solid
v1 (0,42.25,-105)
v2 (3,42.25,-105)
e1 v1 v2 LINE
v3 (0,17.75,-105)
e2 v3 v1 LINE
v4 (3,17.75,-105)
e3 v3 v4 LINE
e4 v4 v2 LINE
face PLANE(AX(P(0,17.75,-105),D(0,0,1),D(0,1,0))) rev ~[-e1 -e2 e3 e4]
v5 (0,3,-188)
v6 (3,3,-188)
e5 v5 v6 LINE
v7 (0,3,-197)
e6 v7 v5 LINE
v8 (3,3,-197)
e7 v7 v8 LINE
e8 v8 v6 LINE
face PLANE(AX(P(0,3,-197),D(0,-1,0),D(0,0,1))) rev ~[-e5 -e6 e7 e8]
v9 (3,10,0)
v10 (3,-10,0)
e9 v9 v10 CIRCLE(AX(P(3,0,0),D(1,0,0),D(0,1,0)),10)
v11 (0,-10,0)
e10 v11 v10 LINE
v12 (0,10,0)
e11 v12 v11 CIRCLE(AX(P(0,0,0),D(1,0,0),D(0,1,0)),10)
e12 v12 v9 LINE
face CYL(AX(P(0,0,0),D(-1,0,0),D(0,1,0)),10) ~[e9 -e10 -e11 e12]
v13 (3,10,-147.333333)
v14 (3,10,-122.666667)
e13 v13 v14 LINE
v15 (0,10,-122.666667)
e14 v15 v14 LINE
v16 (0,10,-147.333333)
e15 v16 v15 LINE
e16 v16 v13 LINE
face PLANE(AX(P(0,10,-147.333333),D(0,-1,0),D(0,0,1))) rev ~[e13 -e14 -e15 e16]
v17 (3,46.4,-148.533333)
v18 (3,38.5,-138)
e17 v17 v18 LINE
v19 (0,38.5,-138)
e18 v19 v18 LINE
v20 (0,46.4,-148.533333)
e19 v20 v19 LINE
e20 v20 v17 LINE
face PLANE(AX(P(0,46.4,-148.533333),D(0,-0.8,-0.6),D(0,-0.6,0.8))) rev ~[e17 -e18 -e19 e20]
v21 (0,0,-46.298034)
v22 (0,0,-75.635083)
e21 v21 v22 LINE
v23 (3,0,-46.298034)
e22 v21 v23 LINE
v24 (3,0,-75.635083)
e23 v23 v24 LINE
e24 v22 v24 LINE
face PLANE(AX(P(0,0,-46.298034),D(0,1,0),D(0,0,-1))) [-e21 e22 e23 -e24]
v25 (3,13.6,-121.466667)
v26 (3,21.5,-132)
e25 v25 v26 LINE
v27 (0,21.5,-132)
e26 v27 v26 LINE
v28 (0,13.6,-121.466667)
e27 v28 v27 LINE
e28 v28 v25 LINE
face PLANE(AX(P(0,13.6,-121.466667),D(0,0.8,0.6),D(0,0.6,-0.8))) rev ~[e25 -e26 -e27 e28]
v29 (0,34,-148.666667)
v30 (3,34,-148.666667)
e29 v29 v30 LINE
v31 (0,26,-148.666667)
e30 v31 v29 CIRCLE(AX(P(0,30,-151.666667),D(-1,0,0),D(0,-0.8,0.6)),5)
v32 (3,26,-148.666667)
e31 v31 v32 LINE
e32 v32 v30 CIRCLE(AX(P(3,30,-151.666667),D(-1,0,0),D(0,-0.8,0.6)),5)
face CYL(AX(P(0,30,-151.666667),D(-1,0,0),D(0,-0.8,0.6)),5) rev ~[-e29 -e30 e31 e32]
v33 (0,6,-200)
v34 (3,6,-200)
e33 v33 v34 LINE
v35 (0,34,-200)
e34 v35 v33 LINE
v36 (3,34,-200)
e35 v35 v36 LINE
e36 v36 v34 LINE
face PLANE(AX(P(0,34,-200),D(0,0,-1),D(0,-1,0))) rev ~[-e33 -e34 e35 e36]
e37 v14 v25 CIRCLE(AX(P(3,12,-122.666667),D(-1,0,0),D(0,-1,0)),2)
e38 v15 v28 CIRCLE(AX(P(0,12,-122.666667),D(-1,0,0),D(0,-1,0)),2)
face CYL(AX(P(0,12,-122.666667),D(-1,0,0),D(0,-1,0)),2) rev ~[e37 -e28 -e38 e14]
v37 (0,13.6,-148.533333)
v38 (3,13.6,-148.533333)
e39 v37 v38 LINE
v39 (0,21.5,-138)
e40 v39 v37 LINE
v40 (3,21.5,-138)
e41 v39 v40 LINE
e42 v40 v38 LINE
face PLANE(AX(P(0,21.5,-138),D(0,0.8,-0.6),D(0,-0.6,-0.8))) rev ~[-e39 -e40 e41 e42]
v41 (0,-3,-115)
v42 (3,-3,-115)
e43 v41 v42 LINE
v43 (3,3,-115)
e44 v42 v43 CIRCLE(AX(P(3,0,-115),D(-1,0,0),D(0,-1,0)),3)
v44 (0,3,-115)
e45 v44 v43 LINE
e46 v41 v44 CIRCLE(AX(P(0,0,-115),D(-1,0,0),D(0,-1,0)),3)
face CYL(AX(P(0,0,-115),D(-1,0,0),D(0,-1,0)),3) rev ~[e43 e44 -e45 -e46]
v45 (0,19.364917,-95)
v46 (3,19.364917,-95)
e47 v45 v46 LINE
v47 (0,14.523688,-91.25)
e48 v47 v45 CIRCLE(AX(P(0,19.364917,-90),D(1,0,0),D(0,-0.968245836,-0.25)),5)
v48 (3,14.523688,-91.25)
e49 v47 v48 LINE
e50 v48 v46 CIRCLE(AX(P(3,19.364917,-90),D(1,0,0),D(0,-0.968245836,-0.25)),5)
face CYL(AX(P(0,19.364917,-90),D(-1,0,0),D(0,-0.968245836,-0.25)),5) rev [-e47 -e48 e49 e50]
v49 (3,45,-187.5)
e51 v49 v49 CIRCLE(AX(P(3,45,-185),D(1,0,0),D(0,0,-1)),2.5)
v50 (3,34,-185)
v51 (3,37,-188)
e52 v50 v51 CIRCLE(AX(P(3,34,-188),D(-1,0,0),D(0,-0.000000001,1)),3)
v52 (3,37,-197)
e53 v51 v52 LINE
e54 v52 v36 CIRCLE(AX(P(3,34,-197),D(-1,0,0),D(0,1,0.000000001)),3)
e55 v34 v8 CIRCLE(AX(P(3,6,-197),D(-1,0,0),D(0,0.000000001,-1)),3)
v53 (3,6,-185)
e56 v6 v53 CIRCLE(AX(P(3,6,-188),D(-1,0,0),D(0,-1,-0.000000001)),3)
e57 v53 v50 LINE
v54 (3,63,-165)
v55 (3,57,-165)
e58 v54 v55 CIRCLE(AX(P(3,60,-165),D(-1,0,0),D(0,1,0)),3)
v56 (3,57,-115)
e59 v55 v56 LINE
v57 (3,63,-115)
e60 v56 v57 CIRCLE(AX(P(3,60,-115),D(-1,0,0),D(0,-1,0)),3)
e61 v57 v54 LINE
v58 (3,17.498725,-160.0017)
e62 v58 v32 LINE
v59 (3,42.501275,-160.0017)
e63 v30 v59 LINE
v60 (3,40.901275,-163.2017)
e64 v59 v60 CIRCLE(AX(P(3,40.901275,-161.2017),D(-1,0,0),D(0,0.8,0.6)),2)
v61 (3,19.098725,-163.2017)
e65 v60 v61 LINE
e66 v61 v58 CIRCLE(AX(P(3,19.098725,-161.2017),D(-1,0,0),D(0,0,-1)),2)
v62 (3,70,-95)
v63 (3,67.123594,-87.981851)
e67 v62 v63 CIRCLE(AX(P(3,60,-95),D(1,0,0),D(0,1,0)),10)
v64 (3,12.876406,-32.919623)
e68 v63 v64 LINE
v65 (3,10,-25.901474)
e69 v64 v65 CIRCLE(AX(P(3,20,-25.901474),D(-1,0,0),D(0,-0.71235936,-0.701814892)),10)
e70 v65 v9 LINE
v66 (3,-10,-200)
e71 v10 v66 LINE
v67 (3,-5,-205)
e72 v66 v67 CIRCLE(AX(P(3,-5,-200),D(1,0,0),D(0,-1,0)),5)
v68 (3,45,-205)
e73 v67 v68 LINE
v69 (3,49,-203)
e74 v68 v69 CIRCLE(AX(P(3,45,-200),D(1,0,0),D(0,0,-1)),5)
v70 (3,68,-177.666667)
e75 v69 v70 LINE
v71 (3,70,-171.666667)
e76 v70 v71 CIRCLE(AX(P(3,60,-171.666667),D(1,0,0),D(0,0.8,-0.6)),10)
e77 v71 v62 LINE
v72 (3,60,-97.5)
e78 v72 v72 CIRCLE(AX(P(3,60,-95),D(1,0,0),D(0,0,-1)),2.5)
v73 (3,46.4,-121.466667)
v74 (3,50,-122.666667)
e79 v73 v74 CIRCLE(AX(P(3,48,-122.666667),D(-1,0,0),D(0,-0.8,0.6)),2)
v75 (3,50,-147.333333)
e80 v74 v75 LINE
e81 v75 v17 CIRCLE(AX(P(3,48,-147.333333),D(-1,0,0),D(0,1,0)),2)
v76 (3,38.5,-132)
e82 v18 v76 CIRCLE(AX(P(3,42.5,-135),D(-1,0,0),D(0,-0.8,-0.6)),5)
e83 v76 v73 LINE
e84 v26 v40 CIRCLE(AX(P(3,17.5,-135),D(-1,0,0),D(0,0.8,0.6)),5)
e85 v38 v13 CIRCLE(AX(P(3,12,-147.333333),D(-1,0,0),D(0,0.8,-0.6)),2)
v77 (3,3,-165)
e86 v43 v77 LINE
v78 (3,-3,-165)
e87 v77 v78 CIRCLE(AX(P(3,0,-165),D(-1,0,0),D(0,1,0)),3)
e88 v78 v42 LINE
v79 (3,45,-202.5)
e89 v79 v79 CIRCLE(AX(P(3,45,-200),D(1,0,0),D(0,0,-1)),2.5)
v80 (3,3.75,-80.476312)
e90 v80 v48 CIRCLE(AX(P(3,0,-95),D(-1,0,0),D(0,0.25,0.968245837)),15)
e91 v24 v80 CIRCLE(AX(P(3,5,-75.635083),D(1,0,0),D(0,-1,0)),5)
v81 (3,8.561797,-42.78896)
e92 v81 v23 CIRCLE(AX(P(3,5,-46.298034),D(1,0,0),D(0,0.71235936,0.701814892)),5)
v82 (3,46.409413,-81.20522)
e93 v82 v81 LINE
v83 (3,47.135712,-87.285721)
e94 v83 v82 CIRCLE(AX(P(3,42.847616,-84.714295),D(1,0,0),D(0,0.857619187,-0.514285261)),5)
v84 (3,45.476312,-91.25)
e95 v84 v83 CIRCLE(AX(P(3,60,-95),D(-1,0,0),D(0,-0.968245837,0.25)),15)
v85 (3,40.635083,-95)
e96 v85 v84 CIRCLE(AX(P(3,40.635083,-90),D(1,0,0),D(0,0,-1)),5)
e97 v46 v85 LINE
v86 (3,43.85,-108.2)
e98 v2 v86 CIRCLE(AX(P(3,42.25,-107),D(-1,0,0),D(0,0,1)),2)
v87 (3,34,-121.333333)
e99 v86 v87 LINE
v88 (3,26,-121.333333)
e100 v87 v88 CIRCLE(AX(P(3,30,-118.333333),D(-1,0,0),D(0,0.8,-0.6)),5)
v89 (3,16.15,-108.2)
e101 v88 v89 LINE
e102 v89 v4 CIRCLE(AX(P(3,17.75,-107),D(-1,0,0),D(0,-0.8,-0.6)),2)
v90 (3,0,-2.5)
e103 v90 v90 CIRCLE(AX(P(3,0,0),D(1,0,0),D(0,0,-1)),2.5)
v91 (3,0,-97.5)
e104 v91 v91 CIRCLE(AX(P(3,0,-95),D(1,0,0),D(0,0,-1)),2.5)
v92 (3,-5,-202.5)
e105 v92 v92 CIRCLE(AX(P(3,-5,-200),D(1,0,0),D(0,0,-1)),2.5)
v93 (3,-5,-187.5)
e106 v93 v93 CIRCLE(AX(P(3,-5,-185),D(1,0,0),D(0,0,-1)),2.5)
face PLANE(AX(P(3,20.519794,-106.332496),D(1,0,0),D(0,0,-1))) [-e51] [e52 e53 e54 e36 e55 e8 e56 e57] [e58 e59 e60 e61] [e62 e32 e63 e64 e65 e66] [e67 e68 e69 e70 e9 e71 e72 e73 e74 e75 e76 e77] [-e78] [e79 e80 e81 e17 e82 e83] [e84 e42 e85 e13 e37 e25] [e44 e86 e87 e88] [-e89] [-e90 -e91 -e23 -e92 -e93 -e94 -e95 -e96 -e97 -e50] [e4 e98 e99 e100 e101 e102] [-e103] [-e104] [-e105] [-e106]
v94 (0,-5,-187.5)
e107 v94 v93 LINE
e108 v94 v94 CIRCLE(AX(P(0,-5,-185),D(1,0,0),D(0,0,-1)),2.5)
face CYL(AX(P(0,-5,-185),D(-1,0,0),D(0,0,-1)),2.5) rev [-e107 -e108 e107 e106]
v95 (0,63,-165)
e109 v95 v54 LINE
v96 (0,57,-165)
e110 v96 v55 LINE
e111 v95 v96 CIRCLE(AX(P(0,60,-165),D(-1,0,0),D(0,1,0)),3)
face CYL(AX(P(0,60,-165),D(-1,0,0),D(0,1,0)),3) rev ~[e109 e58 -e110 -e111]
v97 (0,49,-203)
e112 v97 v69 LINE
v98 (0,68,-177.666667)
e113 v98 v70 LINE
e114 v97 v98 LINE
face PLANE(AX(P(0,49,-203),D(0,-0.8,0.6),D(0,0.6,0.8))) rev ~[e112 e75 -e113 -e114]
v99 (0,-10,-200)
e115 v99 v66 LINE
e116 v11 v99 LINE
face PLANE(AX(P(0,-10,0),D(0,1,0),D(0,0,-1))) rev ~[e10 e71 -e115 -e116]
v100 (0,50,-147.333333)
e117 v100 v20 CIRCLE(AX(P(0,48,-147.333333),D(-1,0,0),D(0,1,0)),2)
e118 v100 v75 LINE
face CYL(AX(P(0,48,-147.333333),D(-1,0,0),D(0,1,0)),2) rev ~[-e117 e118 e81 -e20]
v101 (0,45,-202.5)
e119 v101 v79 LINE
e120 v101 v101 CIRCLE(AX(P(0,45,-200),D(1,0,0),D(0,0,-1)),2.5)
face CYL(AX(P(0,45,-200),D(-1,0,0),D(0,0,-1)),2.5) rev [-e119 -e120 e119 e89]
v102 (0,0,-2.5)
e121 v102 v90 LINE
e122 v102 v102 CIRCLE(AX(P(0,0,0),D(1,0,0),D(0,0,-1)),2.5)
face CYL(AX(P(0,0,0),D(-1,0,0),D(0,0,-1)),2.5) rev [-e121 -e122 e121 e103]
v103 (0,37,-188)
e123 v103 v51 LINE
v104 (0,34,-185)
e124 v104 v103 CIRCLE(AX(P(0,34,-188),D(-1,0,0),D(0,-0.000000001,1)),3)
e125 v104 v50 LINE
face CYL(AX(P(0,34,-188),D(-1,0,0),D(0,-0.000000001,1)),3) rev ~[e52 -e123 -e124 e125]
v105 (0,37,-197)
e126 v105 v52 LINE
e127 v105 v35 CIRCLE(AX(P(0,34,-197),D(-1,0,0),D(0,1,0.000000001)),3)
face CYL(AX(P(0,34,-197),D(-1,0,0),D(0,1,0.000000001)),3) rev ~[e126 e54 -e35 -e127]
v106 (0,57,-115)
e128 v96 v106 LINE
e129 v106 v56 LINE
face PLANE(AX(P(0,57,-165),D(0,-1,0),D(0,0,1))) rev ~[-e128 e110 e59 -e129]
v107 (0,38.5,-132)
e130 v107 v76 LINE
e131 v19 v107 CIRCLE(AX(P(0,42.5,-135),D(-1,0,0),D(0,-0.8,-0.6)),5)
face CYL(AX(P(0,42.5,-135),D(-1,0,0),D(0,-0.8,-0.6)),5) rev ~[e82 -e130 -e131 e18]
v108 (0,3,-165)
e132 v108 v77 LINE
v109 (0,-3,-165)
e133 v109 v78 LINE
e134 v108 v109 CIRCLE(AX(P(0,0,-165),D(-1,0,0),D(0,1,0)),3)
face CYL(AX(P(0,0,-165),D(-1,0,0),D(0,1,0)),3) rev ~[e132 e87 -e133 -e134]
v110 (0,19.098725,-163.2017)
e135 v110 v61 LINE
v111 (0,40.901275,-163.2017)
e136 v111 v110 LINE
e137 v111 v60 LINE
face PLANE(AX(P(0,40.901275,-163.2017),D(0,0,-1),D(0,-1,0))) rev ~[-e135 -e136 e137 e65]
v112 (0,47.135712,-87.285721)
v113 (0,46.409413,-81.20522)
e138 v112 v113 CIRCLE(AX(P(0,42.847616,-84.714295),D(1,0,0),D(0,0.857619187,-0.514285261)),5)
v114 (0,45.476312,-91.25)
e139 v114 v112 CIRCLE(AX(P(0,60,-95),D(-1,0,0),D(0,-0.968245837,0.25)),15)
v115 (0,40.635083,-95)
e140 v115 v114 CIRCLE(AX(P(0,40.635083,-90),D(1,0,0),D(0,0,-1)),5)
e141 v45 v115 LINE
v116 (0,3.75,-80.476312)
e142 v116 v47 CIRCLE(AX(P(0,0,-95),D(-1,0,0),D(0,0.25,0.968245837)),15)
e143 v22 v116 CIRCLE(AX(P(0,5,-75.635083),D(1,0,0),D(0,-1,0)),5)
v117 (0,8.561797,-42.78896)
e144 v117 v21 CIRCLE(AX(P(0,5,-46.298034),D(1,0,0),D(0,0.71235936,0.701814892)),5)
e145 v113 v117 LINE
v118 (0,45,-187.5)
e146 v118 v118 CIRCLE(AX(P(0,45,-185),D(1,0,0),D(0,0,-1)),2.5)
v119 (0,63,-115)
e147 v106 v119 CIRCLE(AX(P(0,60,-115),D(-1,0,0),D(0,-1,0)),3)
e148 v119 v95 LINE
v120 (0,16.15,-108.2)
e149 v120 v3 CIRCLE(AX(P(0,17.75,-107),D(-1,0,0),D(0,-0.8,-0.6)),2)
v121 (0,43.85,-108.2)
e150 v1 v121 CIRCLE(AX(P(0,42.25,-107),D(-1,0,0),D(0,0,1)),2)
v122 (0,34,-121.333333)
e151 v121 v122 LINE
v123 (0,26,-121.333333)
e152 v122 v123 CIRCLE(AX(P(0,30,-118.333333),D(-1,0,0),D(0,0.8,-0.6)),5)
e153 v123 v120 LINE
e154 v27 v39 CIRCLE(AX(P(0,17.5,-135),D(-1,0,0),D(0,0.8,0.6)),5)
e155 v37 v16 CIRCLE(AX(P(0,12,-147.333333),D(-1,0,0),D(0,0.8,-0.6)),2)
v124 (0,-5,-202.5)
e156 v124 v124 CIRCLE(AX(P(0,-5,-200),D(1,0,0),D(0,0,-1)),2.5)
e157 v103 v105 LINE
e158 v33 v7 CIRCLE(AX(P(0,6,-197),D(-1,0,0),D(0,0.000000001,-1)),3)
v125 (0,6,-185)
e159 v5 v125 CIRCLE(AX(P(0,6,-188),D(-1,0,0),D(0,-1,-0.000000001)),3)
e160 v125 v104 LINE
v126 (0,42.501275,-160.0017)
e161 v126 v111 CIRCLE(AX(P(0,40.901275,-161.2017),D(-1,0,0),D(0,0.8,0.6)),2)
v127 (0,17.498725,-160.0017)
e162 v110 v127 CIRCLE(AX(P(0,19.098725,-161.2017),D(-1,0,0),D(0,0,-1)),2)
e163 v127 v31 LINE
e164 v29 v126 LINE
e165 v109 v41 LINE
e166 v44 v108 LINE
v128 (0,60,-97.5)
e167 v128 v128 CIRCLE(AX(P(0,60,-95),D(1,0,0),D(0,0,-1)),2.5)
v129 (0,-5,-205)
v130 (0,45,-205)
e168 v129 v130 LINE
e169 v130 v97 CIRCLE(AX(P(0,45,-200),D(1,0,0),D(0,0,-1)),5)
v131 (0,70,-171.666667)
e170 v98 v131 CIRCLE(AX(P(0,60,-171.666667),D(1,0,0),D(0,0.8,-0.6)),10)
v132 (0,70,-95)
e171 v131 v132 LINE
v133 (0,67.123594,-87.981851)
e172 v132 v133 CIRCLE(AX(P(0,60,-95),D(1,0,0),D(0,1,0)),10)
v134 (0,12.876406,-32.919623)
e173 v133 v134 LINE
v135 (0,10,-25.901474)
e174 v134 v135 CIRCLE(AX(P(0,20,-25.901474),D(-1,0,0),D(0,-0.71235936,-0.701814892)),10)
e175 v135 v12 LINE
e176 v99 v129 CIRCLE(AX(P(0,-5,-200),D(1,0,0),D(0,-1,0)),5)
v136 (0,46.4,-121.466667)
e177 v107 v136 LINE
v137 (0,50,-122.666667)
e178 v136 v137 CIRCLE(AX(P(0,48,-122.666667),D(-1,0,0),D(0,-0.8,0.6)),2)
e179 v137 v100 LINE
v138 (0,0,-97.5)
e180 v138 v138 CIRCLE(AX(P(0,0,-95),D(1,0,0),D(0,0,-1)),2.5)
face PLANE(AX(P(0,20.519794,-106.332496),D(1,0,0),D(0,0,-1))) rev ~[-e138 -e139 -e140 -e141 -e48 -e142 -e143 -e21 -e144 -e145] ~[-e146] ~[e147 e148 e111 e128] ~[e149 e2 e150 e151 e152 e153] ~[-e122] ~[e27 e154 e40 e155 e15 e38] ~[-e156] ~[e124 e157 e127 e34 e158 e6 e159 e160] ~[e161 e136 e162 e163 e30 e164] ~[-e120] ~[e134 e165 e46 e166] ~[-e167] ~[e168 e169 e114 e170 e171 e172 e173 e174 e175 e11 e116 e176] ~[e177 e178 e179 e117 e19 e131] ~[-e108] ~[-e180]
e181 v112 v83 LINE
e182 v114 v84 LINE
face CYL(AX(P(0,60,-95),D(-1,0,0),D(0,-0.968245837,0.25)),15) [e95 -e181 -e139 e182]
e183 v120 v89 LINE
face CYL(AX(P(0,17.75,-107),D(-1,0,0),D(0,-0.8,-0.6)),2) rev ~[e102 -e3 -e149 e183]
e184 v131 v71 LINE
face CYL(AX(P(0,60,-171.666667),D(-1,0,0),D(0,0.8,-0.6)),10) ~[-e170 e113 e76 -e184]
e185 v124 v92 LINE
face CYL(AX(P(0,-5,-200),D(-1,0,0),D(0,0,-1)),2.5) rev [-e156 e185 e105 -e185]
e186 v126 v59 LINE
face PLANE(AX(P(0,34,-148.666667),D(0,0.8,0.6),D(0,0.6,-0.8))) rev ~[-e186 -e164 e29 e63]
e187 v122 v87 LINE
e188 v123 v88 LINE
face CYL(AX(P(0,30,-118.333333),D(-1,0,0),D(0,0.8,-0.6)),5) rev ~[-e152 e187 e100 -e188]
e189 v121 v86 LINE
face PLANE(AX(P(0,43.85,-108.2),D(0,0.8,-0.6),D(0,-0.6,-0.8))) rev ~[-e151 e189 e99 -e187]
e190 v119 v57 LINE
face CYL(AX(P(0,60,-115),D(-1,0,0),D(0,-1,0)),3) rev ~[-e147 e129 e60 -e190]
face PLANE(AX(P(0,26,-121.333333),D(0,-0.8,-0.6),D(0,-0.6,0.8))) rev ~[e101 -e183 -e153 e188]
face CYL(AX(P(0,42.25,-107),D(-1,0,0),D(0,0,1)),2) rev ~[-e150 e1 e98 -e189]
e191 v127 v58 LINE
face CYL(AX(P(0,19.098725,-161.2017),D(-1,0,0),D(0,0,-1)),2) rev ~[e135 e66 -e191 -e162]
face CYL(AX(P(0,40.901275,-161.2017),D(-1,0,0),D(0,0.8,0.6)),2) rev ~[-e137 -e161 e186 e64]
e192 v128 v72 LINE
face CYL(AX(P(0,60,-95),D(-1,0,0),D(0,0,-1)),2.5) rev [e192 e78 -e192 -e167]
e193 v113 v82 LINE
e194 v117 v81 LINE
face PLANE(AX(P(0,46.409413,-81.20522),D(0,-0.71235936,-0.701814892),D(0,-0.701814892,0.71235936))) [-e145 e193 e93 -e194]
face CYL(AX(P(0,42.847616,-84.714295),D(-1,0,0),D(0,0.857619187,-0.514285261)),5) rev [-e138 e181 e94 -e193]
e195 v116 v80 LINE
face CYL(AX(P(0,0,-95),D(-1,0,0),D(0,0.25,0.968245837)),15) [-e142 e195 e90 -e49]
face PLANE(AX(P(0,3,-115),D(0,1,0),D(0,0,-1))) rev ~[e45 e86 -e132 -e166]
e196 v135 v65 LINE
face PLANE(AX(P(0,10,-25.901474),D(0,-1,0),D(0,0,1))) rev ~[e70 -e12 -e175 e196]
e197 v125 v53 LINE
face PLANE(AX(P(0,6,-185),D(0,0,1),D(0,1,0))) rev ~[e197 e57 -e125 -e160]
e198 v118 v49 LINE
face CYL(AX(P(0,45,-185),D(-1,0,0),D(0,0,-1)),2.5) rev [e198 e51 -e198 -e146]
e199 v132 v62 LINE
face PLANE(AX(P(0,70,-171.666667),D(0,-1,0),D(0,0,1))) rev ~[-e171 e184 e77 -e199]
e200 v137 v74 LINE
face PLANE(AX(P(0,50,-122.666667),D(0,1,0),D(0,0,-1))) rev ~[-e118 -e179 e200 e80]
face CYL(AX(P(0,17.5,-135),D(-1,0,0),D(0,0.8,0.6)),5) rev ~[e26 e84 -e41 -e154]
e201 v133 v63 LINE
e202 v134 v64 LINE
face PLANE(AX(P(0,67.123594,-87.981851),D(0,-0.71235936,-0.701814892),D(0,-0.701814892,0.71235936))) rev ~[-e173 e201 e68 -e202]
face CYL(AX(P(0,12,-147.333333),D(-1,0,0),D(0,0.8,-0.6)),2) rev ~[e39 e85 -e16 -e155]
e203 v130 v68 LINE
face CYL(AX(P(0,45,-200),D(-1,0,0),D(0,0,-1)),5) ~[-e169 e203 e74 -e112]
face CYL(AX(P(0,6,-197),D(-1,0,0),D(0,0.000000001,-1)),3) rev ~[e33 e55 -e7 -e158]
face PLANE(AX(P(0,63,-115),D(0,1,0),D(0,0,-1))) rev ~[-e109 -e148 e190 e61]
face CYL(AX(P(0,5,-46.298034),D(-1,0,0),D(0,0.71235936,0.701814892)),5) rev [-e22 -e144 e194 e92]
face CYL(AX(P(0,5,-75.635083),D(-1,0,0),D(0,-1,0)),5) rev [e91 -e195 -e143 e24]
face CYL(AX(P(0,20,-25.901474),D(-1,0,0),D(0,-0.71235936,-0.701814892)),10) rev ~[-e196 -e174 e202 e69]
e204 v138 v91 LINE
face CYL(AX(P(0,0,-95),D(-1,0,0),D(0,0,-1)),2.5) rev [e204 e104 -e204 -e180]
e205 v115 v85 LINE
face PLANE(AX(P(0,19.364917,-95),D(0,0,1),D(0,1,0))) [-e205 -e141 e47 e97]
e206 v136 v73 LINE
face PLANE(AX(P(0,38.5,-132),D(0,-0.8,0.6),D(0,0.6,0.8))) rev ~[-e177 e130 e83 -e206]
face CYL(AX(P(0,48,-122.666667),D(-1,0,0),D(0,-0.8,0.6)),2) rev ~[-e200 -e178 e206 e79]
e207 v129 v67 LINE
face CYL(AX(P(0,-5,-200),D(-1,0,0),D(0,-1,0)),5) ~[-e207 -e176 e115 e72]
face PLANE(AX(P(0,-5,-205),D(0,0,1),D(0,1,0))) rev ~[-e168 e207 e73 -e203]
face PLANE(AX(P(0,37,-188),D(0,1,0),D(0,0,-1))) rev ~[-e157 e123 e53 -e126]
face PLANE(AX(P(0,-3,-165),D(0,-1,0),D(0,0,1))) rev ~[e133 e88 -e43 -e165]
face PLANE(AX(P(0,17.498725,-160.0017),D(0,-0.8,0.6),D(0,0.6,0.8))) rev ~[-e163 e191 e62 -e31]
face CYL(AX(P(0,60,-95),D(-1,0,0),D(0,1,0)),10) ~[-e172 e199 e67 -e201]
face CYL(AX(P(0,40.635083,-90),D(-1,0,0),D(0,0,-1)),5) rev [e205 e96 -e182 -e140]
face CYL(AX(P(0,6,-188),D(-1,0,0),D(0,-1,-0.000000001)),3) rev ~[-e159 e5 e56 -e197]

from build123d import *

# Parameters (mm, degrees)
SKETCH_1_R      = 2.5
EXTRUDE_1_DEPTH = 3


with BuildPart() as part:
    # 草图1 → 凸台-拉伸1 (new body)
    with BuildSketch(Plane(origin=(0, 0, 0), x_dir=(0, 0, -1), z_dir=(1, 0, 0))):
        with BuildLine():
            Line((0, -10), (175, -10))
            Line((175, -10), (200, -10))
            ThreePointArc((200, -10), (203.535533906, -8.535533906), (205, -5))
            Line((205, -5), (205, 45))
            ThreePointArc((205, 45), (204.472135955, 47.236067977), (203, 49))
            Line((203, 49), (177.666666667, 68))
            ThreePointArc((177.666666667, 68), (174.828944327, 69.486832981), (171.666666667, 70))
            Line((171.666666667, 70), (95, 70))
            ThreePointArc((95, 70), (91.207635036, 69.252997784), (87.98185108, 67.123593597))
            Line((87.98185108, 67.123593597), (32.919623175, 12.876406403))
            ThreePointArc((32.919623175, 12.876406403), (29.693839218, 10.747002216), (25.901474255, 10))
            Line((25.901474255, 10), (0, 10))
            ThreePointArc((0, 10), (-10, 0), (0, -10))
        make_face()
        Circle(SKETCH_1_R, mode=Mode.SUBTRACT)
        with Locations((95, 0)):
            Circle(SKETCH_1_R, mode=Mode.SUBTRACT)
        with Locations((95, 60)):
            Circle(SKETCH_1_R, mode=Mode.SUBTRACT)
        with Locations((200, 45)):
            Circle(SKETCH_1_R, mode=Mode.SUBTRACT)
        with Locations((200, -5)):
            Circle(SKETCH_1_R, mode=Mode.SUBTRACT)
        with Locations((185, 45)):
            Circle(SKETCH_1_R, mode=Mode.SUBTRACT)
        with Locations((185, -5)):
            Circle(SKETCH_1_R, mode=Mode.SUBTRACT)
        with BuildLine():
            Line((46.298034327, 0), (75.635083269, 0))
            ThreePointArc((75.635083269, 0), (78.696945447, 1.047152925), (80.476312452, 3.75))
            ThreePointArc((80.476312452, 3.75), (84.393398282, 10.606601718), (91.25, 14.523687548))
            ThreePointArc((91.25, 14.523687548), (93.952847075, 16.303054553), (95, 19.364916731))
            Line((95, 19.364916731), (95, 40.635083269))
            ThreePointArc((95, 40.635083269), (93.952847075, 43.696945447), (91.25, 45.476312452))
            ThreePointArc((91.25, 45.476312452), (89.208124255, 46.163303308), (87.285721083, 47.135712192))
            ThreePointArc((87.285721083, 47.135712192), (84.121274015, 47.812324342), (81.205220318, 46.409413055))
            Line((81.205220318, 46.409413055), (42.788959867, 8.561796798))
            ThreePointArc((42.788959867, 8.561796798), (41.671535435, 3.103817518), (46.298034327, 0))
        make_face(mode=Mode.SUBTRACT)
        with BuildLine():
            Line((108.2, 43.85), (121.333333333, 34))
            ThreePointArc((121.333333333, 34), (123.333333333, 30), (121.333333333, 26))
            Line((121.333333333, 26), (108.2, 16.15))
            ThreePointArc((108.2, 16.15), (106.105572809, 15.961145618), (105, 17.75))
            Line((105, 17.75), (105, 42.25))
            ThreePointArc((105, 42.25), (106.105572809, 44.038854382), (108.2, 43.85))
        make_face(mode=Mode.SUBTRACT)
        with BuildLine():
            Line((122.666666667, 50), (147.333333333, 50))
            ThreePointArc((147.333333333, 50), (149.230699929, 48.632455532), (148.533333333, 46.4))
            Line((148.533333333, 46.4), (138, 38.5))
            ThreePointArc((138, 38.5), (135, 37.5), (132, 38.5))
            Line((132, 38.5), (121.466666667, 46.4))
            ThreePointArc((121.466666667, 46.4), (120.769300071, 48.632455532), (122.666666667, 50))
        make_face(mode=Mode.SUBTRACT)
        with BuildLine():
            Line((163.201700099, 40.901275074), (163.201700099, 19.098724926))
            ThreePointArc((163.201700099, 19.098724926), (162.09612729, 17.309870544), (160.001700099, 17.498724926))
            Line((160.001700099, 17.498724926), (148.666666667, 26))
            ThreePointArc((148.666666667, 26), (146.666666667, 30), (148.666666667, 34))
            Line((148.666666667, 34), (160.001700099, 42.501275074))
            ThreePointArc((160.001700099, 42.501275074), (162.09612729, 42.690129456), (163.201700099, 40.901275074))
        make_face(mode=Mode.SUBTRACT)
        with BuildLine():
            Line((121.466666667, 13.6), (132, 21.5))
            ThreePointArc((132, 21.5), (135, 22.5), (138, 21.5))
            Line((138, 21.5), (148.533333333, 13.6))
            ThreePointArc((148.533333333, 13.6), (149.230699929, 11.367544468), (147.333333333, 10))
            Line((147.333333333, 10), (122.666666667, 10))
            ThreePointArc((122.666666667, 10), (120.769300071, 11.367544468), (121.466666667, 13.6))
        make_face(mode=Mode.SUBTRACT)
        with BuildLine():
            Line((115, 63), (165, 63))
            ThreePointArc((165, 63), (168, 60), (165, 57))
            Line((165, 57), (115, 57))
            ThreePointArc((115, 57), (112, 60), (115, 63))
        make_face(mode=Mode.SUBTRACT)
        with BuildLine():
            Line((115, 3), (165, 3))
            ThreePointArc((165, 3), (168, 0), (165, -3))
            Line((165, -3), (115, -3))
            ThreePointArc((115, -3), (112, 0), (115, 3))
        make_face(mode=Mode.SUBTRACT)
        with BuildLine():
            Line((188, 37), (197, 37))
            ThreePointArc((197, 37), (199.121320344, 36.121320344), (200, 34))
            Line((200, 34), (200, 6))
            ThreePointArc((200, 6), (199.121320344, 3.878679656), (197, 3))
            Line((197, 3), (188, 3))
            ThreePointArc((188, 3), (185.878679656, 3.878679656), (185, 6))
            Line((185, 6), (185, 34))
            ThreePointArc((185, 34), (185.878679656, 36.121320344), (188, 37))
        make_face(mode=Mode.SUBTRACT)
    extrude(amount=EXTRUDE_1_DEPTH)


solid = part.part
